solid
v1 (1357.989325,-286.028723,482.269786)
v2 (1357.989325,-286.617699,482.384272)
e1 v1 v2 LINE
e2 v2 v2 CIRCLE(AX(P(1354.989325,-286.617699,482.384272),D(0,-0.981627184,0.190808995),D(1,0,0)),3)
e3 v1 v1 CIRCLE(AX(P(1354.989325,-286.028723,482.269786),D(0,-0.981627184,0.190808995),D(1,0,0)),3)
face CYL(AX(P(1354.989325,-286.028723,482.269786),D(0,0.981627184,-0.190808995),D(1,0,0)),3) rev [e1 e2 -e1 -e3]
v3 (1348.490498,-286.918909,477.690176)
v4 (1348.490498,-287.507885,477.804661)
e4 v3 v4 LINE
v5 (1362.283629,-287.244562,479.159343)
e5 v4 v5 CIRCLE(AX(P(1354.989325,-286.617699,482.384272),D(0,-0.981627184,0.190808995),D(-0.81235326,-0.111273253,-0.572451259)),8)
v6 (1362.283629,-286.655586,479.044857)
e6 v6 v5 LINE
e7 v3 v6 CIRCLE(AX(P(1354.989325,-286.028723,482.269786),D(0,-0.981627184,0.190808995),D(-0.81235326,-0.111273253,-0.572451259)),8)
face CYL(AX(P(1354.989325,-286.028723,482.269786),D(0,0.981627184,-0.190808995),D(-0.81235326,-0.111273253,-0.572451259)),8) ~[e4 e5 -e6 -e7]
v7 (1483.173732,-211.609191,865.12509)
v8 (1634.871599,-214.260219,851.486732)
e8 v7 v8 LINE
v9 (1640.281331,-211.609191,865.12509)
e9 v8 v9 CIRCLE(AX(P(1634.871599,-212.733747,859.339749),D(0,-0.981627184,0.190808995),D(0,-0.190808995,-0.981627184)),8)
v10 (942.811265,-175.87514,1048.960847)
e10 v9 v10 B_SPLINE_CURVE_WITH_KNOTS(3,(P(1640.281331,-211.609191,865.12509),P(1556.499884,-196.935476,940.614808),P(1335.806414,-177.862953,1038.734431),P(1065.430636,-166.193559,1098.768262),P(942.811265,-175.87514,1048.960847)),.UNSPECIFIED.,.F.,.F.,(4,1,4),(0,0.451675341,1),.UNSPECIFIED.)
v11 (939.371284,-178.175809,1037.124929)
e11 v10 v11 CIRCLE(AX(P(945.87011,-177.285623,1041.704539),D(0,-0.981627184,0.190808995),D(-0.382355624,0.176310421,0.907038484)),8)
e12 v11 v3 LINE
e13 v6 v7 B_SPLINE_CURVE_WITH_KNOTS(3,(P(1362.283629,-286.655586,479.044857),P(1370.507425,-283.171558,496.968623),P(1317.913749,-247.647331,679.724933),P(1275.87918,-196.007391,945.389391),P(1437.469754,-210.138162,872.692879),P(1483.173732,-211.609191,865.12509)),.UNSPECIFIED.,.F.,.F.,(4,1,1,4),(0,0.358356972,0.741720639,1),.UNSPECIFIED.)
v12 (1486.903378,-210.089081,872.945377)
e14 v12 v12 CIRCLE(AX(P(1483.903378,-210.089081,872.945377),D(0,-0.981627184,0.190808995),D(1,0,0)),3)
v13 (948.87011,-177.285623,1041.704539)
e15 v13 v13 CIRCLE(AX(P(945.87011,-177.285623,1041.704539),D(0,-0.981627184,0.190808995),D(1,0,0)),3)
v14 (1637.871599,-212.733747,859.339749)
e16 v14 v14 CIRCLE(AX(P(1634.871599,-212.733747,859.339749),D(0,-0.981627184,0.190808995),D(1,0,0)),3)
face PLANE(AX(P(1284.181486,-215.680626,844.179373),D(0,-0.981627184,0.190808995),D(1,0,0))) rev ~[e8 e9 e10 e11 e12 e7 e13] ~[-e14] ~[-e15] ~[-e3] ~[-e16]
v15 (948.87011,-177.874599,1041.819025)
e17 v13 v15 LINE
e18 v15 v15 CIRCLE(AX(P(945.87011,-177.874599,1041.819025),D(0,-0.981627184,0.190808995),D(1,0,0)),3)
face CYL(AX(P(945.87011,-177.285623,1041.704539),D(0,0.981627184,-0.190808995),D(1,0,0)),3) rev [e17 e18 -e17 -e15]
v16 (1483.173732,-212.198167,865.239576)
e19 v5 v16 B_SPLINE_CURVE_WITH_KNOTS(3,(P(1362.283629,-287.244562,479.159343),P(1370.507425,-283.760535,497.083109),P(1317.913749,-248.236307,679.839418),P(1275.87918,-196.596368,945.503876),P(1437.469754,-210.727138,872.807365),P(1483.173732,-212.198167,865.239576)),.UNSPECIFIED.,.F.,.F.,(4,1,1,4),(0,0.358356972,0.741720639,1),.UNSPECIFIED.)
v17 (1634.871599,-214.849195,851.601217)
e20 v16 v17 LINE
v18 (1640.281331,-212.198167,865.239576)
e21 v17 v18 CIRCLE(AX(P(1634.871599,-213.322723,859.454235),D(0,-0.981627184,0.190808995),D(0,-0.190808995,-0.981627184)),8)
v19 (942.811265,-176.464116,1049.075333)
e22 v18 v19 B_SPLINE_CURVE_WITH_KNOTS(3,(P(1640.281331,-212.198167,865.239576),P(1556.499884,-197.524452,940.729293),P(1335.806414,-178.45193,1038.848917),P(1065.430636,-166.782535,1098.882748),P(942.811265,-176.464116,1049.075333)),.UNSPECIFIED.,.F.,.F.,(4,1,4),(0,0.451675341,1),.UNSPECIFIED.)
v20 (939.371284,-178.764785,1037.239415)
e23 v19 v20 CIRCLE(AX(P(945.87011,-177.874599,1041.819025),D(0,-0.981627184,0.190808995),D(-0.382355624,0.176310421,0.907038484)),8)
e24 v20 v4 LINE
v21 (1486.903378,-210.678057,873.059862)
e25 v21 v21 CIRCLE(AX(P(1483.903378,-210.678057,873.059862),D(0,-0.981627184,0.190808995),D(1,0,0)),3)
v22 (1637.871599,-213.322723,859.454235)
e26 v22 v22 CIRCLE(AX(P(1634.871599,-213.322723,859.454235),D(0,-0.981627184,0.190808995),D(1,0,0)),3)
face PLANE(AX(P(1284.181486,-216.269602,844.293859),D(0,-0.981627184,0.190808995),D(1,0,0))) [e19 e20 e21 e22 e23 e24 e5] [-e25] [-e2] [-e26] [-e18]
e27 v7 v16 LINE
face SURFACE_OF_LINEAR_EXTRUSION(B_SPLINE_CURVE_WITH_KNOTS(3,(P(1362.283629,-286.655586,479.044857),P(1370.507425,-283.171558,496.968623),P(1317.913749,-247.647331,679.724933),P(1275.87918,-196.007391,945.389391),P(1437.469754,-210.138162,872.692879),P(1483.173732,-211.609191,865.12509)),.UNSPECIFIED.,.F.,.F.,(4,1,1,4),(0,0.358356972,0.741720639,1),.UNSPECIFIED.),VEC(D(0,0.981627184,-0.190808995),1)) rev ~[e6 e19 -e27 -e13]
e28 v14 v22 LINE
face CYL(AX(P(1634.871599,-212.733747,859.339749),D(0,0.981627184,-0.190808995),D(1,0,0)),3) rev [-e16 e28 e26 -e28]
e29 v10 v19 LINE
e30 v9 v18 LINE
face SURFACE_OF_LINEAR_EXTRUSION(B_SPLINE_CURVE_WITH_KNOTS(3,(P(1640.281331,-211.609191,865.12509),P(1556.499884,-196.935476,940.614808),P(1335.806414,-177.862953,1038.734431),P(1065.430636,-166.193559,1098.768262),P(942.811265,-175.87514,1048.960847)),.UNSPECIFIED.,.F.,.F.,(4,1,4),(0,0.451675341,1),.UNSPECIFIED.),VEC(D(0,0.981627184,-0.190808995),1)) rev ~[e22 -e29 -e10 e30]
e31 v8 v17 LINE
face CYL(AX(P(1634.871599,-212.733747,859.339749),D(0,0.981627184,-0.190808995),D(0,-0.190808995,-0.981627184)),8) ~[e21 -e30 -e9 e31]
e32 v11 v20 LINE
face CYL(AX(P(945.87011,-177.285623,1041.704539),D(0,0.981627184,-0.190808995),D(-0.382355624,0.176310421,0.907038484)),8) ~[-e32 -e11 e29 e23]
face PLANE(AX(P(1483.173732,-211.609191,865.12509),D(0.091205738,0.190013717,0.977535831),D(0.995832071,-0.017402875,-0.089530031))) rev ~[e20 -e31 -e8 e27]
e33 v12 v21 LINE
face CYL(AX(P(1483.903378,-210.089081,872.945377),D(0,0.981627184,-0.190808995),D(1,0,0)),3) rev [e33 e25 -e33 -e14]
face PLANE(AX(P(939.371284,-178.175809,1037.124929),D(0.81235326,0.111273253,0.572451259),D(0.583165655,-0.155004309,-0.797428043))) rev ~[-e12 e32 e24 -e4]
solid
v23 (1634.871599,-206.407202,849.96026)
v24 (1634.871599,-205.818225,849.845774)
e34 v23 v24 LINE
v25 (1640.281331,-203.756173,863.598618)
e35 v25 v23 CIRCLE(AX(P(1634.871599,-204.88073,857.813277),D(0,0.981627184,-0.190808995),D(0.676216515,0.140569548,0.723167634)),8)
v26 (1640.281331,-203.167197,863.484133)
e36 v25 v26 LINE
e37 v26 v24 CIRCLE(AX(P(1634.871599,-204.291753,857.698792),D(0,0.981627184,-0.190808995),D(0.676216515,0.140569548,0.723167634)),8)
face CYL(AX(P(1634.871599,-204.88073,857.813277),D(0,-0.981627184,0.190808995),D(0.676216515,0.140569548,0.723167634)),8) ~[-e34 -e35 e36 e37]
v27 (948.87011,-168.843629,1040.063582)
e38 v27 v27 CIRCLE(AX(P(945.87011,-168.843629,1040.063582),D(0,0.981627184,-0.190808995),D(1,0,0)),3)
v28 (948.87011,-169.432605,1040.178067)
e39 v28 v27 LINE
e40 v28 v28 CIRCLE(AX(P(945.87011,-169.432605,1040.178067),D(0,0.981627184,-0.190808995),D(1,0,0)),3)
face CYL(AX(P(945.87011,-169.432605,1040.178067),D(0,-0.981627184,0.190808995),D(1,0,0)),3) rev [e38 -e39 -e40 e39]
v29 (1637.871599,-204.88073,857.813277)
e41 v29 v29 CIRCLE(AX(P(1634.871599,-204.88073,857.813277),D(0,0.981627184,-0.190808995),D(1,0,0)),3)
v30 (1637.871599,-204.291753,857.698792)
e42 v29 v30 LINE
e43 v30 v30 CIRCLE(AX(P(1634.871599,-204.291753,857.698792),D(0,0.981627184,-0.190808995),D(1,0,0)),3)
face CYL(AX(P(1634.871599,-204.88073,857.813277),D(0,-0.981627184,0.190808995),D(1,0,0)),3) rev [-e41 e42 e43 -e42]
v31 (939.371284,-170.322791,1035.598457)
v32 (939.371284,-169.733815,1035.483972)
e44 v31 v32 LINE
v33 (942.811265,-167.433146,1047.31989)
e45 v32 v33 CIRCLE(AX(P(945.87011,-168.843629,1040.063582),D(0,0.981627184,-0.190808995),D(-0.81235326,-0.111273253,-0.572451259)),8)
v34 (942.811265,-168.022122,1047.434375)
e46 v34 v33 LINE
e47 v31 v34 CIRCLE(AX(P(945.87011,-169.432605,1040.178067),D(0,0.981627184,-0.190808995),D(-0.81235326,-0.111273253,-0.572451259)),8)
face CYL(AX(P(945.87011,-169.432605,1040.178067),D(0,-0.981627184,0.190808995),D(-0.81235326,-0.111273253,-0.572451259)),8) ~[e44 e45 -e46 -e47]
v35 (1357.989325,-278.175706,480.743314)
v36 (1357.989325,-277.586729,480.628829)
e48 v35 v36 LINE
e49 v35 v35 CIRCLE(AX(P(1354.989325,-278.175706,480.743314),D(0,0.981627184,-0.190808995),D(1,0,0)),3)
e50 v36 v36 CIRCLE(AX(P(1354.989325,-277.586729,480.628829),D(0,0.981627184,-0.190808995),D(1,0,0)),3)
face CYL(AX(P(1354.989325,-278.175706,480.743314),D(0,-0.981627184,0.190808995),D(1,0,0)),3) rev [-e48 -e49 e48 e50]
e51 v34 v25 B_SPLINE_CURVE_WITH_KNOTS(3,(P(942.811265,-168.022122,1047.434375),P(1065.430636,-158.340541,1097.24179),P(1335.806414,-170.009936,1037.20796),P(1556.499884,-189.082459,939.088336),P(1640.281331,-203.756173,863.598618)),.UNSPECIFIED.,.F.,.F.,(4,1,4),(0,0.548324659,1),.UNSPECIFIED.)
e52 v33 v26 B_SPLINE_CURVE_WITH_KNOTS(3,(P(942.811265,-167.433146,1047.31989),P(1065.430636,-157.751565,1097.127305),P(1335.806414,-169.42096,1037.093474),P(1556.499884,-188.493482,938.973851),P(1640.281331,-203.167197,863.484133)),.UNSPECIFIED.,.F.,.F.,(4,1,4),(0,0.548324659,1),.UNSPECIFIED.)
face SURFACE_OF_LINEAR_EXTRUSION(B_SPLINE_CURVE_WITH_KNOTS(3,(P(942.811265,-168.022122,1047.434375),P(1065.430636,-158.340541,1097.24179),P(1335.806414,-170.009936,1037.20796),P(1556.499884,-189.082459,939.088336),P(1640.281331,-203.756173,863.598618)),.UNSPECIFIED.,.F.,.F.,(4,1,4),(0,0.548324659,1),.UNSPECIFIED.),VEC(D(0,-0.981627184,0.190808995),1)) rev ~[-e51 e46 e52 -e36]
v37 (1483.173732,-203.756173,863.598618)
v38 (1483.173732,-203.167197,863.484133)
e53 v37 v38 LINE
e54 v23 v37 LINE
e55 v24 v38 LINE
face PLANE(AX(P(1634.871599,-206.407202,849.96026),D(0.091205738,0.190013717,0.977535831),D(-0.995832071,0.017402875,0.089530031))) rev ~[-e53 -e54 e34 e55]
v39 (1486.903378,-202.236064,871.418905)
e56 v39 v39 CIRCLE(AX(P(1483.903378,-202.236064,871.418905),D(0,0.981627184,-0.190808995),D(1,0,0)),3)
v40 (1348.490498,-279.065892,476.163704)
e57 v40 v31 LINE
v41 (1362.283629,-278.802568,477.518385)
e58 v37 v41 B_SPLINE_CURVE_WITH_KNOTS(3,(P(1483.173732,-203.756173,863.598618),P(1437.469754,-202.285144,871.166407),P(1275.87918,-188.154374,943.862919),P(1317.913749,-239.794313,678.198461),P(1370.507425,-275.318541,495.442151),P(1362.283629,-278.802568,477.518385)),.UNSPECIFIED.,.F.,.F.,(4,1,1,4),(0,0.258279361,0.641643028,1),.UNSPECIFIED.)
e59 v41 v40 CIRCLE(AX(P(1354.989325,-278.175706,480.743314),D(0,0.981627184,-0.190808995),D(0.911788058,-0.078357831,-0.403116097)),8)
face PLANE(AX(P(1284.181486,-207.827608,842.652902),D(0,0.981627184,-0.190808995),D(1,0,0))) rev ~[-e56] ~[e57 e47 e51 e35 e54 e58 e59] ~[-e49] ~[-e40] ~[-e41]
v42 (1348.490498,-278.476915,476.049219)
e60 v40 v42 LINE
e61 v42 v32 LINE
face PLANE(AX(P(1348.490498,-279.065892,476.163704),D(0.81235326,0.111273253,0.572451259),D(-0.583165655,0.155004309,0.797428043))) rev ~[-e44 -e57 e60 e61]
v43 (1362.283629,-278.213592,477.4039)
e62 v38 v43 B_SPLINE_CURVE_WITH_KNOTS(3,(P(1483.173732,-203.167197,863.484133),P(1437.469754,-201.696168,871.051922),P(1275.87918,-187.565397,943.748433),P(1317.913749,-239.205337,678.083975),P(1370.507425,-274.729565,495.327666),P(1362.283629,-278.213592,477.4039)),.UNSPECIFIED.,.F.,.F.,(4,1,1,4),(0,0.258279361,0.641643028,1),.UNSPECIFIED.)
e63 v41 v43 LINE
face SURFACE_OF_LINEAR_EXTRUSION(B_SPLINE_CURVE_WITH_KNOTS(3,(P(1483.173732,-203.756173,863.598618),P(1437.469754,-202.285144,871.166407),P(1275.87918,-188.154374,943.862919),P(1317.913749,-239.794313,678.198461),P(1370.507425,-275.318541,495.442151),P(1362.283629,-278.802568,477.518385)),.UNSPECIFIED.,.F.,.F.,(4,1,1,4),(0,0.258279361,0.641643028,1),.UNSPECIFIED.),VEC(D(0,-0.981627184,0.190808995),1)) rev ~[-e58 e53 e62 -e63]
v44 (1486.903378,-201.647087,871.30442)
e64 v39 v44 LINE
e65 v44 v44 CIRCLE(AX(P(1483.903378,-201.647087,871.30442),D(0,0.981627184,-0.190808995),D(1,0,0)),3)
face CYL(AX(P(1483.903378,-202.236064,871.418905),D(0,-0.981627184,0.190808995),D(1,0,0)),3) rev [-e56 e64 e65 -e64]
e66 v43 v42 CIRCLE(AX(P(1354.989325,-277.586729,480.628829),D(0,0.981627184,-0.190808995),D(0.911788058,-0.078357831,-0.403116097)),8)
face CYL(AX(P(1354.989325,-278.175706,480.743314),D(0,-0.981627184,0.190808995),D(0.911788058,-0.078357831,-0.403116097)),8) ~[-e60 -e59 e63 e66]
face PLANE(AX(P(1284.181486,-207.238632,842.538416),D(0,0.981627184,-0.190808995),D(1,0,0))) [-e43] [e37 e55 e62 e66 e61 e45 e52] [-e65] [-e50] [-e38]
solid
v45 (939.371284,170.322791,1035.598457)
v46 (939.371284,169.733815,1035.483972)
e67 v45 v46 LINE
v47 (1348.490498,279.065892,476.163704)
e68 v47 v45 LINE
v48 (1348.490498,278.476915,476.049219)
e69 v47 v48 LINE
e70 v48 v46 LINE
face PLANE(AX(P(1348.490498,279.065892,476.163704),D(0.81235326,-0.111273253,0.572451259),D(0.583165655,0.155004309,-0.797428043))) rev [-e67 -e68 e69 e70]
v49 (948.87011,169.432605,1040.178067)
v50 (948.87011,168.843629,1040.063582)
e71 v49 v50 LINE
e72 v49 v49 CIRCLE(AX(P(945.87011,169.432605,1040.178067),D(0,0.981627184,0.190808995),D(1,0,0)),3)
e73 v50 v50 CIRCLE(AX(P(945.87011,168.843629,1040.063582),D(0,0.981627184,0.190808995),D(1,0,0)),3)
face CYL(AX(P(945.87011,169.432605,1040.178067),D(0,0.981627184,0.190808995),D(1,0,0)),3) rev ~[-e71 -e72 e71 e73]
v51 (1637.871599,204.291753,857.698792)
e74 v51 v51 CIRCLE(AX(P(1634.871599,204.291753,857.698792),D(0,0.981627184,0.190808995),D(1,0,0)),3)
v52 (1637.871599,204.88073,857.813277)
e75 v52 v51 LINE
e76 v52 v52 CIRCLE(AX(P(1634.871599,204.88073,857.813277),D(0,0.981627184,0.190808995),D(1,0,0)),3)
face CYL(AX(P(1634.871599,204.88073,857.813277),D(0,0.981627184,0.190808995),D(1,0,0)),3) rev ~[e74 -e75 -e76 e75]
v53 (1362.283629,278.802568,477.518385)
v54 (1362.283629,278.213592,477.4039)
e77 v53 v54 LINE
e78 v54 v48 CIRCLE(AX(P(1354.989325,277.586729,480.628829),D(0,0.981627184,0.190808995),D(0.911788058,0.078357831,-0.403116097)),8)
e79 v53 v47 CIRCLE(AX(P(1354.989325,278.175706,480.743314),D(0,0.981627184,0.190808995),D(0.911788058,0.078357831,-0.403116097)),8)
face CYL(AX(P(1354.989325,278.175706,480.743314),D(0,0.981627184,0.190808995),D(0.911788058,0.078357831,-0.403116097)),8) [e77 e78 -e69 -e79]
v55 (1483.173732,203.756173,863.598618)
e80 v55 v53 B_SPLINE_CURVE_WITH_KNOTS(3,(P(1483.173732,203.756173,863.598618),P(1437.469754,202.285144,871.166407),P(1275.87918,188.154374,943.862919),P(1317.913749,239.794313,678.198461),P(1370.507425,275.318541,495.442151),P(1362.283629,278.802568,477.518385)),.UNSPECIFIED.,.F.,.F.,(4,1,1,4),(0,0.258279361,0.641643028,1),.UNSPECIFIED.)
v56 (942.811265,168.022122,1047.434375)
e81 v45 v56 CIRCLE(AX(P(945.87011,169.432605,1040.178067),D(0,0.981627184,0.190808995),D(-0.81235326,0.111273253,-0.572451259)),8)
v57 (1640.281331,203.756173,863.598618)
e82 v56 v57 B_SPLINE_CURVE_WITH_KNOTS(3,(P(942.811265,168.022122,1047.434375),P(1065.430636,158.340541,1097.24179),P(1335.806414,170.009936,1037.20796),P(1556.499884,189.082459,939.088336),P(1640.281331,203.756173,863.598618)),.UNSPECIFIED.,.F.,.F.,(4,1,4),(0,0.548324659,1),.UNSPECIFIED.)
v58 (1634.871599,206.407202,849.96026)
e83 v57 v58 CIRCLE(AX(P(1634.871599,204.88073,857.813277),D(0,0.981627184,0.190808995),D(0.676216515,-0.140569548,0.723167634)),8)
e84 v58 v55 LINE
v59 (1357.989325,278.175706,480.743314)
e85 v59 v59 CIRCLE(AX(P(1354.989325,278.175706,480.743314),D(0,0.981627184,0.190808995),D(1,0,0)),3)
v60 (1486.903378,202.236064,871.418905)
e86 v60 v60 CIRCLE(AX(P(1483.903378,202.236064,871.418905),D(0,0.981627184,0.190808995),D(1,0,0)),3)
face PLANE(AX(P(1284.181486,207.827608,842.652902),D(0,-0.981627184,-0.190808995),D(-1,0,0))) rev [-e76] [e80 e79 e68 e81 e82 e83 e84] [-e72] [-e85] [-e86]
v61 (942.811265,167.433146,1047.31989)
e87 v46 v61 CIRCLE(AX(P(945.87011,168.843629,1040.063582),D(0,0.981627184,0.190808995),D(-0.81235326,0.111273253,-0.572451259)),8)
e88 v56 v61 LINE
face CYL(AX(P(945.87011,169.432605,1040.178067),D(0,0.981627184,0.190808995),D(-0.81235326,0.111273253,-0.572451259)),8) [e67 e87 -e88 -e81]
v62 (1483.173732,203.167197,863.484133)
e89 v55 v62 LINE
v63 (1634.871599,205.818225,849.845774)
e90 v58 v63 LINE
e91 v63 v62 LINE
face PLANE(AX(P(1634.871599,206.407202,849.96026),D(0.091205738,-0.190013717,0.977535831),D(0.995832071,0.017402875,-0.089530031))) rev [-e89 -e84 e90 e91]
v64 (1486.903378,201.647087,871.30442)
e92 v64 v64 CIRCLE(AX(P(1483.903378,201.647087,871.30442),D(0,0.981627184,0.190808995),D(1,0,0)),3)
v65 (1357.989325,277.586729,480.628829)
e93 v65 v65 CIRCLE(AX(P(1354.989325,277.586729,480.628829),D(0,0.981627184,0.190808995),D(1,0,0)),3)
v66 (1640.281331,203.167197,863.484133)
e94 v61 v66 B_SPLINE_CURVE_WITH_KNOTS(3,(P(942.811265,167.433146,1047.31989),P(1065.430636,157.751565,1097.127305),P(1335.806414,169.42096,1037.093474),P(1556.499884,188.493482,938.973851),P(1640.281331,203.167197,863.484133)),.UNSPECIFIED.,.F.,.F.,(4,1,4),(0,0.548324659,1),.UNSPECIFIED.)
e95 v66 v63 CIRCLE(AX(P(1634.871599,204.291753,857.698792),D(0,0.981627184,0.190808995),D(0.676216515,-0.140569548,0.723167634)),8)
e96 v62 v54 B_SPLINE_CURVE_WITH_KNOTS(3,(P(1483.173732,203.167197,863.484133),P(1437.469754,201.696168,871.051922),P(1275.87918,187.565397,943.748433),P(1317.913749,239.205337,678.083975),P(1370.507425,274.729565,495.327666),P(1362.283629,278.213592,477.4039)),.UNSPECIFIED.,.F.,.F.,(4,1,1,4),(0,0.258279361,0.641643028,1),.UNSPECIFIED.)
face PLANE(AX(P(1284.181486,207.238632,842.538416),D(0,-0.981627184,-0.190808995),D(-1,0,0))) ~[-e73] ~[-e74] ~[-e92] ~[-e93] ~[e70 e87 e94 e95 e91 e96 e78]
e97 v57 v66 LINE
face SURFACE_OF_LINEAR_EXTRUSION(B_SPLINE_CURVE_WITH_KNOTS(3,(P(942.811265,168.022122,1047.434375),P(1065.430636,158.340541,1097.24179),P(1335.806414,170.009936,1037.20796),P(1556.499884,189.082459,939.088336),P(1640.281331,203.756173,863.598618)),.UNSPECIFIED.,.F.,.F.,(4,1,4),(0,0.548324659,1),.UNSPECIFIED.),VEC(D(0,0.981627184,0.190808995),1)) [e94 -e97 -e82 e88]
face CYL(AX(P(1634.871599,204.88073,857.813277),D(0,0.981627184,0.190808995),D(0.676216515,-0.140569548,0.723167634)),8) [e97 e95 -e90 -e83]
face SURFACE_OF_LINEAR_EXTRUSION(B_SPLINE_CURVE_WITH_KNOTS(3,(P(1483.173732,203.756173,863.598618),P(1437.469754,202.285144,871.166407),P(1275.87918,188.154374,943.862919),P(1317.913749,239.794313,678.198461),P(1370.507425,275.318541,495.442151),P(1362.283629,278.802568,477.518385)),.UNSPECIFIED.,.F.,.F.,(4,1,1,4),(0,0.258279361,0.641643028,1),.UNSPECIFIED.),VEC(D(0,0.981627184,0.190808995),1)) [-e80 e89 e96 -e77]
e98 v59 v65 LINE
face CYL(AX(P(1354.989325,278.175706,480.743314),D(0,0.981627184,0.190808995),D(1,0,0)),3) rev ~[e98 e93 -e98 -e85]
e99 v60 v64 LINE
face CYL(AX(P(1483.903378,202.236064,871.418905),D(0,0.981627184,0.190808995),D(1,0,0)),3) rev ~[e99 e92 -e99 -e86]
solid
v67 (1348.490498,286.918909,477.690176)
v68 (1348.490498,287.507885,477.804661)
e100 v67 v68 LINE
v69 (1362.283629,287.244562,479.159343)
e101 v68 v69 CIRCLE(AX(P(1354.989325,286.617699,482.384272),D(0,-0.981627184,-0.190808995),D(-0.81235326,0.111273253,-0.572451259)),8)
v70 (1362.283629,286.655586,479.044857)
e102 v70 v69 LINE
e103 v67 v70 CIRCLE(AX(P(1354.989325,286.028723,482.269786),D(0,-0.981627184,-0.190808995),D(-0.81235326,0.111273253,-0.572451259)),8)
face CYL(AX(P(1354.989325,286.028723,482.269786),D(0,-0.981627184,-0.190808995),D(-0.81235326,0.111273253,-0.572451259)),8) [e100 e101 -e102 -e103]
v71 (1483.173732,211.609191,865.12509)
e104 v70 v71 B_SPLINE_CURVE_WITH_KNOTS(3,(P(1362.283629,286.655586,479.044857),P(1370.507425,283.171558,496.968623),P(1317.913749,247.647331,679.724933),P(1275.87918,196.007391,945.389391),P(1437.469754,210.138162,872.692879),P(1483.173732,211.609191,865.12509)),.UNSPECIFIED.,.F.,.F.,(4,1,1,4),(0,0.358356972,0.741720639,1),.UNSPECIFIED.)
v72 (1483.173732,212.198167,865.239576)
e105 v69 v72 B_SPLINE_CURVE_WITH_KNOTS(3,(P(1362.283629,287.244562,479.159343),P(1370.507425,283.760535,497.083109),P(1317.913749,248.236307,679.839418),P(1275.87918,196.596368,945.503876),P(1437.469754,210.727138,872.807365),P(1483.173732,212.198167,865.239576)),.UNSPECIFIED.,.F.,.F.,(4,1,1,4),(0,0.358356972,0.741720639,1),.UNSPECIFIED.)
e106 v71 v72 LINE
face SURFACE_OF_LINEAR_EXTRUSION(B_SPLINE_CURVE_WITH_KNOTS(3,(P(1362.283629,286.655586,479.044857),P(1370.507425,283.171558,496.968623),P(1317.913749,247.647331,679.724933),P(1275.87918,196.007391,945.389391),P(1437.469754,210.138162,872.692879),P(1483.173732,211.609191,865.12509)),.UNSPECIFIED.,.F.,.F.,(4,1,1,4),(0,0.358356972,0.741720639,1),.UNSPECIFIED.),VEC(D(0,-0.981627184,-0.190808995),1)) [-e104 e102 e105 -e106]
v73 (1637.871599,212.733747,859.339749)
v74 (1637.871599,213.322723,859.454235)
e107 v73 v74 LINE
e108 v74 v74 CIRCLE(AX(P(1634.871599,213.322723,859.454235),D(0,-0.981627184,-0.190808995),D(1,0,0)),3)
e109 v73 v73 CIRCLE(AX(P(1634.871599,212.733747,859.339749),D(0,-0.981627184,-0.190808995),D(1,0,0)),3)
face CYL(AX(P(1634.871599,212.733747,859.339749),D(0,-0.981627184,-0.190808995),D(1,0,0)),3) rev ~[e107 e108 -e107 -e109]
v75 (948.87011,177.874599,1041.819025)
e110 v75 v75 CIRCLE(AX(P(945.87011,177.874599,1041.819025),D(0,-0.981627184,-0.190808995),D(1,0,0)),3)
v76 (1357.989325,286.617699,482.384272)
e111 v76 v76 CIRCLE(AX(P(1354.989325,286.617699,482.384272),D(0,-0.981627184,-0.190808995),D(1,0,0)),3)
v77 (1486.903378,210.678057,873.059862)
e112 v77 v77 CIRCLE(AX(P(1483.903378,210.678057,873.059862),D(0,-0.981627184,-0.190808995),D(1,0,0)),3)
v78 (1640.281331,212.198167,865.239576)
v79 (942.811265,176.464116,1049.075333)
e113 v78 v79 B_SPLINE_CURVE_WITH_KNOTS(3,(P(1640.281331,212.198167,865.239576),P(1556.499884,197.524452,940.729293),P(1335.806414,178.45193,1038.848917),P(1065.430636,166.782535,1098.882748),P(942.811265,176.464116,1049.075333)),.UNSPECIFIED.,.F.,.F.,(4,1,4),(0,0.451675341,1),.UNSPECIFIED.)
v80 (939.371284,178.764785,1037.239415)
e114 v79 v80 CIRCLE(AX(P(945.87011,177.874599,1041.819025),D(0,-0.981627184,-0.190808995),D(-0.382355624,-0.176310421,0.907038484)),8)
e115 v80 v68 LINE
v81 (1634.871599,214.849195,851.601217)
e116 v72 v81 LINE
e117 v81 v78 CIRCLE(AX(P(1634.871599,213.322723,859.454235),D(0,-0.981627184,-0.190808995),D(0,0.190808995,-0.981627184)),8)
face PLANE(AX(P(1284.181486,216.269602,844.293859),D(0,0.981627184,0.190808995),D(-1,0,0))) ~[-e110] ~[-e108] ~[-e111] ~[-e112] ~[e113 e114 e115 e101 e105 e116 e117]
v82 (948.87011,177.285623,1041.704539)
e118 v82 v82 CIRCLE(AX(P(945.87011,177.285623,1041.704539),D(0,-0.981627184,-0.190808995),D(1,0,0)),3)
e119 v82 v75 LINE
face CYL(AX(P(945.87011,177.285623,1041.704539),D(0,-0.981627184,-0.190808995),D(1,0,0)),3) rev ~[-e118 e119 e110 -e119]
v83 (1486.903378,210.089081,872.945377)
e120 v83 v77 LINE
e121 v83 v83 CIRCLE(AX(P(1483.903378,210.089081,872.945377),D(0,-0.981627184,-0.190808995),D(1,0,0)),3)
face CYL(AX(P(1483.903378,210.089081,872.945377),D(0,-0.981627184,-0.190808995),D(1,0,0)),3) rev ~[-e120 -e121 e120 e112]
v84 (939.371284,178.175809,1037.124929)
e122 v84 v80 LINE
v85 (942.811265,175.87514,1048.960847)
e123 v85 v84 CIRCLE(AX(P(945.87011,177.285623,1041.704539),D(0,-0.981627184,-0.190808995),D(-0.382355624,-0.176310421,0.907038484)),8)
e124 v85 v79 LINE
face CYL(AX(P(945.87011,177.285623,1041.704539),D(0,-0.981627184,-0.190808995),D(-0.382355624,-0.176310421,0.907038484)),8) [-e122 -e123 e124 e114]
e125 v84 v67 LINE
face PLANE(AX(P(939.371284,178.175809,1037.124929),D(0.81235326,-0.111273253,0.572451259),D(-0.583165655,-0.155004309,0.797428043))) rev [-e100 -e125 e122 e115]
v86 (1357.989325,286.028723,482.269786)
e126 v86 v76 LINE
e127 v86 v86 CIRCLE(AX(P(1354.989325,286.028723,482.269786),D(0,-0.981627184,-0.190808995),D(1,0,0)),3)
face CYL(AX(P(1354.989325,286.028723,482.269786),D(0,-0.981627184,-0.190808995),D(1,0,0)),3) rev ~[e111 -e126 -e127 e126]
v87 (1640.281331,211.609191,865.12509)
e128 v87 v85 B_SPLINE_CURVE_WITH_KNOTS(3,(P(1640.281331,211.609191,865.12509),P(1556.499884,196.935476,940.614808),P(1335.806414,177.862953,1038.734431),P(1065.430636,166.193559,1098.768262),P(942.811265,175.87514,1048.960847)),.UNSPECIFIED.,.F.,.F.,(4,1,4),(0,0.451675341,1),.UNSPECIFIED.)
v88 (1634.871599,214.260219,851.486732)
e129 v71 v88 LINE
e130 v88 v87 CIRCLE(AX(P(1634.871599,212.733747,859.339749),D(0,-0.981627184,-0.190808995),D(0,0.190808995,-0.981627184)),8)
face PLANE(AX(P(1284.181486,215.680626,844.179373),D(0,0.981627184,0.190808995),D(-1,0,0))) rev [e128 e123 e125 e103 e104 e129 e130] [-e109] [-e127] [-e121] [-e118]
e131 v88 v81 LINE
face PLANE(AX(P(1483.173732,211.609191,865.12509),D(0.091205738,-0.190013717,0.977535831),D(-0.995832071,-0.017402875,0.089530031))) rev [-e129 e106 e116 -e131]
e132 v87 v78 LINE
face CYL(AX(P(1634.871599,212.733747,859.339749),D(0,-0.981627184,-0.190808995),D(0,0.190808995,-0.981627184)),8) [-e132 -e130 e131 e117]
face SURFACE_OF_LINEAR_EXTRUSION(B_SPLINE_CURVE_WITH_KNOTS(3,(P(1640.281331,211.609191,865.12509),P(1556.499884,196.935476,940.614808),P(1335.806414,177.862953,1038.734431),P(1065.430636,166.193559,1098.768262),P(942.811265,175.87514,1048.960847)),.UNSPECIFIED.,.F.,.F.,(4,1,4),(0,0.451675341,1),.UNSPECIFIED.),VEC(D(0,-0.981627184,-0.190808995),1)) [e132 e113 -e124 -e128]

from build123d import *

# Parameters (mm, degrees)
SZKIC1_R                    = 3
SZKIC1_R_2                  = 2.999999996
DODANIE_WYCI_GNI_CIE1_DEPTH = 0.6
SZKIC2_R                    = 3
SZKIC2_R_2                  = 2.999999996
DODANIE_WYCI_GNI_CIE2_DEPTH = 0.6


with BuildPart() as part:
    # Szkic1 → Dodanie-wyciągnięcie1 (new body)
    with BuildSketch(Plane(origin=(0, -365.945689178, 71.13263619), x_dir=(1, 0, 0), z_dir=(0, -0.981627183, 0.190808995))):
        with BuildLine():
            Line((1483.1737317, 808.853368538), (1634.871598877, 794.959745005))
            ThreePointArc((1634.871598877, 794.959745005), (1642.326429132, 800.05707281), (1640.281331001, 808.853368538))
            add(Edge.make_bspline(
                [(1640.281331001, 808.853368538), (1556.499884294, 885.756004267), (1335.806413784, 985.712102893), (1065.430635851, 1046.869568532), (942.811265429, 996.129923251)],
                knots=[0, 0, 0, 0, 0.451675341, 1, 1, 1, 1], degree=3))
            ThreePointArc((942.811265429, 996.129923251), (938.177076077, 990.932618484), (939.37128434, 984.072476035))
            Line((939.37128434, 984.072476035), (1348.49049843, 414.166953328))
            ThreePointArc((1348.49049843, 414.166953328), (1355.785767616, 410.872022391), (1362.283628975, 415.546989785))
            add(Edge.make_bspline(
                [(1362.283628975, 415.546989785), (1370.507425365, 433.806229295), (1317.913749169, 619.983132718), (1275.879179559, 890.619951369), (1437.469754318, 816.5628016), (1483.1737317, 808.853368538)],
                knots=[0, 0, 0, 0, 0.358356972, 0.741720639, 1, 1, 1, 1], degree=3))
        make_face()
        with Locations((1354.98932451, 418.832278566)):
            Circle(SZKIC1_R, mode=Mode.SUBTRACT)
        with Locations((945.87011042, 988.737801274)):
            Circle(SZKIC1_R, mode=Mode.SUBTRACT)
        with Locations((1634.871598877, 802.959745005)):
            Circle(SZKIC1_R_2, mode=Mode.SUBTRACT)
        with Locations((1483.903377602, 816.820025105)):
            Circle(SZKIC1_R, mode=Mode.SUBTRACT)
    extrude(amount=DODANIE_WYCI_GNI_CIE1_DEPTH)


with BuildPart() as body_2:
    # Szkic2 → Dodanie-wyciągnięcie2 (new body)
    with BuildSketch(Plane(origin=(0, -358.092671711, 69.606164227), x_dir=(1, 0, 0), z_dir=(0, 0.981627183, -0.190808995))):
        with BuildLine():
            Line((1634.871598877, -794.959745005), (1483.1737317, -808.853368538))
            add(Edge.make_bspline(
                [(1483.1737317, -808.853368538), (1437.469754318, -816.5628016), (1275.879179559, -890.619951369), (1317.913749169, -619.983132718), (1370.507425365, -433.806229295), (1362.283628975, -415.546989785)],
                knots=[0, 0, 0, 0, 0.258279361, 0.641643028, 1, 1, 1, 1], degree=3))
            ThreePointArc((1362.283628975, -415.546989785), (1355.785767616, -410.872022391), (1348.49049843, -414.166953328))
            Line((1348.49049843, -414.166953328), (939.37128434, -984.072476035))
            ThreePointArc((939.37128434, -984.072476035), (938.177076077, -990.932618484), (942.811265429, -996.129923251))
            add(Edge.make_bspline(
                [(942.811265429, -996.129923251), (1065.430635851, -1046.869568532), (1335.806413784, -985.712102893), (1556.499884294, -885.756004267), (1640.281331001, -808.853368538)],
                knots=[0, 0, 0, 0, 0.548324659, 1, 1, 1, 1], degree=3))
            ThreePointArc((1640.281331001, -808.853368538), (1642.326429132, -800.05707281), (1634.871598877, -794.959745005))
        make_face()
        with Locations((1354.98932451, -418.832278566)):
            Circle(SZKIC2_R, mode=Mode.SUBTRACT)
        with Locations((1634.871598877, -802.959745005)):
            Circle(SZKIC2_R_2, mode=Mode.SUBTRACT)
        with Locations((1483.903377602, -816.820025105)):
            Circle(SZKIC2_R, mode=Mode.SUBTRACT)
        with Locations((945.87011042, -988.737801274)):
            Circle(SZKIC2_R, mode=Mode.SUBTRACT)
    extrude(amount=DODANIE_WYCI_GNI_CIE2_DEPTH)


with BuildPart() as body_3:
    # Lustro1: mirrored copy
    add(part.part.mirror(Plane.ZX))


with BuildPart() as body_4:
    # Lustro1 2: mirrored copy
    add(body_2.part.mirror(Plane.ZX))


solid = Compound([part.part, body_2.part, body_3.part, body_4.part])
